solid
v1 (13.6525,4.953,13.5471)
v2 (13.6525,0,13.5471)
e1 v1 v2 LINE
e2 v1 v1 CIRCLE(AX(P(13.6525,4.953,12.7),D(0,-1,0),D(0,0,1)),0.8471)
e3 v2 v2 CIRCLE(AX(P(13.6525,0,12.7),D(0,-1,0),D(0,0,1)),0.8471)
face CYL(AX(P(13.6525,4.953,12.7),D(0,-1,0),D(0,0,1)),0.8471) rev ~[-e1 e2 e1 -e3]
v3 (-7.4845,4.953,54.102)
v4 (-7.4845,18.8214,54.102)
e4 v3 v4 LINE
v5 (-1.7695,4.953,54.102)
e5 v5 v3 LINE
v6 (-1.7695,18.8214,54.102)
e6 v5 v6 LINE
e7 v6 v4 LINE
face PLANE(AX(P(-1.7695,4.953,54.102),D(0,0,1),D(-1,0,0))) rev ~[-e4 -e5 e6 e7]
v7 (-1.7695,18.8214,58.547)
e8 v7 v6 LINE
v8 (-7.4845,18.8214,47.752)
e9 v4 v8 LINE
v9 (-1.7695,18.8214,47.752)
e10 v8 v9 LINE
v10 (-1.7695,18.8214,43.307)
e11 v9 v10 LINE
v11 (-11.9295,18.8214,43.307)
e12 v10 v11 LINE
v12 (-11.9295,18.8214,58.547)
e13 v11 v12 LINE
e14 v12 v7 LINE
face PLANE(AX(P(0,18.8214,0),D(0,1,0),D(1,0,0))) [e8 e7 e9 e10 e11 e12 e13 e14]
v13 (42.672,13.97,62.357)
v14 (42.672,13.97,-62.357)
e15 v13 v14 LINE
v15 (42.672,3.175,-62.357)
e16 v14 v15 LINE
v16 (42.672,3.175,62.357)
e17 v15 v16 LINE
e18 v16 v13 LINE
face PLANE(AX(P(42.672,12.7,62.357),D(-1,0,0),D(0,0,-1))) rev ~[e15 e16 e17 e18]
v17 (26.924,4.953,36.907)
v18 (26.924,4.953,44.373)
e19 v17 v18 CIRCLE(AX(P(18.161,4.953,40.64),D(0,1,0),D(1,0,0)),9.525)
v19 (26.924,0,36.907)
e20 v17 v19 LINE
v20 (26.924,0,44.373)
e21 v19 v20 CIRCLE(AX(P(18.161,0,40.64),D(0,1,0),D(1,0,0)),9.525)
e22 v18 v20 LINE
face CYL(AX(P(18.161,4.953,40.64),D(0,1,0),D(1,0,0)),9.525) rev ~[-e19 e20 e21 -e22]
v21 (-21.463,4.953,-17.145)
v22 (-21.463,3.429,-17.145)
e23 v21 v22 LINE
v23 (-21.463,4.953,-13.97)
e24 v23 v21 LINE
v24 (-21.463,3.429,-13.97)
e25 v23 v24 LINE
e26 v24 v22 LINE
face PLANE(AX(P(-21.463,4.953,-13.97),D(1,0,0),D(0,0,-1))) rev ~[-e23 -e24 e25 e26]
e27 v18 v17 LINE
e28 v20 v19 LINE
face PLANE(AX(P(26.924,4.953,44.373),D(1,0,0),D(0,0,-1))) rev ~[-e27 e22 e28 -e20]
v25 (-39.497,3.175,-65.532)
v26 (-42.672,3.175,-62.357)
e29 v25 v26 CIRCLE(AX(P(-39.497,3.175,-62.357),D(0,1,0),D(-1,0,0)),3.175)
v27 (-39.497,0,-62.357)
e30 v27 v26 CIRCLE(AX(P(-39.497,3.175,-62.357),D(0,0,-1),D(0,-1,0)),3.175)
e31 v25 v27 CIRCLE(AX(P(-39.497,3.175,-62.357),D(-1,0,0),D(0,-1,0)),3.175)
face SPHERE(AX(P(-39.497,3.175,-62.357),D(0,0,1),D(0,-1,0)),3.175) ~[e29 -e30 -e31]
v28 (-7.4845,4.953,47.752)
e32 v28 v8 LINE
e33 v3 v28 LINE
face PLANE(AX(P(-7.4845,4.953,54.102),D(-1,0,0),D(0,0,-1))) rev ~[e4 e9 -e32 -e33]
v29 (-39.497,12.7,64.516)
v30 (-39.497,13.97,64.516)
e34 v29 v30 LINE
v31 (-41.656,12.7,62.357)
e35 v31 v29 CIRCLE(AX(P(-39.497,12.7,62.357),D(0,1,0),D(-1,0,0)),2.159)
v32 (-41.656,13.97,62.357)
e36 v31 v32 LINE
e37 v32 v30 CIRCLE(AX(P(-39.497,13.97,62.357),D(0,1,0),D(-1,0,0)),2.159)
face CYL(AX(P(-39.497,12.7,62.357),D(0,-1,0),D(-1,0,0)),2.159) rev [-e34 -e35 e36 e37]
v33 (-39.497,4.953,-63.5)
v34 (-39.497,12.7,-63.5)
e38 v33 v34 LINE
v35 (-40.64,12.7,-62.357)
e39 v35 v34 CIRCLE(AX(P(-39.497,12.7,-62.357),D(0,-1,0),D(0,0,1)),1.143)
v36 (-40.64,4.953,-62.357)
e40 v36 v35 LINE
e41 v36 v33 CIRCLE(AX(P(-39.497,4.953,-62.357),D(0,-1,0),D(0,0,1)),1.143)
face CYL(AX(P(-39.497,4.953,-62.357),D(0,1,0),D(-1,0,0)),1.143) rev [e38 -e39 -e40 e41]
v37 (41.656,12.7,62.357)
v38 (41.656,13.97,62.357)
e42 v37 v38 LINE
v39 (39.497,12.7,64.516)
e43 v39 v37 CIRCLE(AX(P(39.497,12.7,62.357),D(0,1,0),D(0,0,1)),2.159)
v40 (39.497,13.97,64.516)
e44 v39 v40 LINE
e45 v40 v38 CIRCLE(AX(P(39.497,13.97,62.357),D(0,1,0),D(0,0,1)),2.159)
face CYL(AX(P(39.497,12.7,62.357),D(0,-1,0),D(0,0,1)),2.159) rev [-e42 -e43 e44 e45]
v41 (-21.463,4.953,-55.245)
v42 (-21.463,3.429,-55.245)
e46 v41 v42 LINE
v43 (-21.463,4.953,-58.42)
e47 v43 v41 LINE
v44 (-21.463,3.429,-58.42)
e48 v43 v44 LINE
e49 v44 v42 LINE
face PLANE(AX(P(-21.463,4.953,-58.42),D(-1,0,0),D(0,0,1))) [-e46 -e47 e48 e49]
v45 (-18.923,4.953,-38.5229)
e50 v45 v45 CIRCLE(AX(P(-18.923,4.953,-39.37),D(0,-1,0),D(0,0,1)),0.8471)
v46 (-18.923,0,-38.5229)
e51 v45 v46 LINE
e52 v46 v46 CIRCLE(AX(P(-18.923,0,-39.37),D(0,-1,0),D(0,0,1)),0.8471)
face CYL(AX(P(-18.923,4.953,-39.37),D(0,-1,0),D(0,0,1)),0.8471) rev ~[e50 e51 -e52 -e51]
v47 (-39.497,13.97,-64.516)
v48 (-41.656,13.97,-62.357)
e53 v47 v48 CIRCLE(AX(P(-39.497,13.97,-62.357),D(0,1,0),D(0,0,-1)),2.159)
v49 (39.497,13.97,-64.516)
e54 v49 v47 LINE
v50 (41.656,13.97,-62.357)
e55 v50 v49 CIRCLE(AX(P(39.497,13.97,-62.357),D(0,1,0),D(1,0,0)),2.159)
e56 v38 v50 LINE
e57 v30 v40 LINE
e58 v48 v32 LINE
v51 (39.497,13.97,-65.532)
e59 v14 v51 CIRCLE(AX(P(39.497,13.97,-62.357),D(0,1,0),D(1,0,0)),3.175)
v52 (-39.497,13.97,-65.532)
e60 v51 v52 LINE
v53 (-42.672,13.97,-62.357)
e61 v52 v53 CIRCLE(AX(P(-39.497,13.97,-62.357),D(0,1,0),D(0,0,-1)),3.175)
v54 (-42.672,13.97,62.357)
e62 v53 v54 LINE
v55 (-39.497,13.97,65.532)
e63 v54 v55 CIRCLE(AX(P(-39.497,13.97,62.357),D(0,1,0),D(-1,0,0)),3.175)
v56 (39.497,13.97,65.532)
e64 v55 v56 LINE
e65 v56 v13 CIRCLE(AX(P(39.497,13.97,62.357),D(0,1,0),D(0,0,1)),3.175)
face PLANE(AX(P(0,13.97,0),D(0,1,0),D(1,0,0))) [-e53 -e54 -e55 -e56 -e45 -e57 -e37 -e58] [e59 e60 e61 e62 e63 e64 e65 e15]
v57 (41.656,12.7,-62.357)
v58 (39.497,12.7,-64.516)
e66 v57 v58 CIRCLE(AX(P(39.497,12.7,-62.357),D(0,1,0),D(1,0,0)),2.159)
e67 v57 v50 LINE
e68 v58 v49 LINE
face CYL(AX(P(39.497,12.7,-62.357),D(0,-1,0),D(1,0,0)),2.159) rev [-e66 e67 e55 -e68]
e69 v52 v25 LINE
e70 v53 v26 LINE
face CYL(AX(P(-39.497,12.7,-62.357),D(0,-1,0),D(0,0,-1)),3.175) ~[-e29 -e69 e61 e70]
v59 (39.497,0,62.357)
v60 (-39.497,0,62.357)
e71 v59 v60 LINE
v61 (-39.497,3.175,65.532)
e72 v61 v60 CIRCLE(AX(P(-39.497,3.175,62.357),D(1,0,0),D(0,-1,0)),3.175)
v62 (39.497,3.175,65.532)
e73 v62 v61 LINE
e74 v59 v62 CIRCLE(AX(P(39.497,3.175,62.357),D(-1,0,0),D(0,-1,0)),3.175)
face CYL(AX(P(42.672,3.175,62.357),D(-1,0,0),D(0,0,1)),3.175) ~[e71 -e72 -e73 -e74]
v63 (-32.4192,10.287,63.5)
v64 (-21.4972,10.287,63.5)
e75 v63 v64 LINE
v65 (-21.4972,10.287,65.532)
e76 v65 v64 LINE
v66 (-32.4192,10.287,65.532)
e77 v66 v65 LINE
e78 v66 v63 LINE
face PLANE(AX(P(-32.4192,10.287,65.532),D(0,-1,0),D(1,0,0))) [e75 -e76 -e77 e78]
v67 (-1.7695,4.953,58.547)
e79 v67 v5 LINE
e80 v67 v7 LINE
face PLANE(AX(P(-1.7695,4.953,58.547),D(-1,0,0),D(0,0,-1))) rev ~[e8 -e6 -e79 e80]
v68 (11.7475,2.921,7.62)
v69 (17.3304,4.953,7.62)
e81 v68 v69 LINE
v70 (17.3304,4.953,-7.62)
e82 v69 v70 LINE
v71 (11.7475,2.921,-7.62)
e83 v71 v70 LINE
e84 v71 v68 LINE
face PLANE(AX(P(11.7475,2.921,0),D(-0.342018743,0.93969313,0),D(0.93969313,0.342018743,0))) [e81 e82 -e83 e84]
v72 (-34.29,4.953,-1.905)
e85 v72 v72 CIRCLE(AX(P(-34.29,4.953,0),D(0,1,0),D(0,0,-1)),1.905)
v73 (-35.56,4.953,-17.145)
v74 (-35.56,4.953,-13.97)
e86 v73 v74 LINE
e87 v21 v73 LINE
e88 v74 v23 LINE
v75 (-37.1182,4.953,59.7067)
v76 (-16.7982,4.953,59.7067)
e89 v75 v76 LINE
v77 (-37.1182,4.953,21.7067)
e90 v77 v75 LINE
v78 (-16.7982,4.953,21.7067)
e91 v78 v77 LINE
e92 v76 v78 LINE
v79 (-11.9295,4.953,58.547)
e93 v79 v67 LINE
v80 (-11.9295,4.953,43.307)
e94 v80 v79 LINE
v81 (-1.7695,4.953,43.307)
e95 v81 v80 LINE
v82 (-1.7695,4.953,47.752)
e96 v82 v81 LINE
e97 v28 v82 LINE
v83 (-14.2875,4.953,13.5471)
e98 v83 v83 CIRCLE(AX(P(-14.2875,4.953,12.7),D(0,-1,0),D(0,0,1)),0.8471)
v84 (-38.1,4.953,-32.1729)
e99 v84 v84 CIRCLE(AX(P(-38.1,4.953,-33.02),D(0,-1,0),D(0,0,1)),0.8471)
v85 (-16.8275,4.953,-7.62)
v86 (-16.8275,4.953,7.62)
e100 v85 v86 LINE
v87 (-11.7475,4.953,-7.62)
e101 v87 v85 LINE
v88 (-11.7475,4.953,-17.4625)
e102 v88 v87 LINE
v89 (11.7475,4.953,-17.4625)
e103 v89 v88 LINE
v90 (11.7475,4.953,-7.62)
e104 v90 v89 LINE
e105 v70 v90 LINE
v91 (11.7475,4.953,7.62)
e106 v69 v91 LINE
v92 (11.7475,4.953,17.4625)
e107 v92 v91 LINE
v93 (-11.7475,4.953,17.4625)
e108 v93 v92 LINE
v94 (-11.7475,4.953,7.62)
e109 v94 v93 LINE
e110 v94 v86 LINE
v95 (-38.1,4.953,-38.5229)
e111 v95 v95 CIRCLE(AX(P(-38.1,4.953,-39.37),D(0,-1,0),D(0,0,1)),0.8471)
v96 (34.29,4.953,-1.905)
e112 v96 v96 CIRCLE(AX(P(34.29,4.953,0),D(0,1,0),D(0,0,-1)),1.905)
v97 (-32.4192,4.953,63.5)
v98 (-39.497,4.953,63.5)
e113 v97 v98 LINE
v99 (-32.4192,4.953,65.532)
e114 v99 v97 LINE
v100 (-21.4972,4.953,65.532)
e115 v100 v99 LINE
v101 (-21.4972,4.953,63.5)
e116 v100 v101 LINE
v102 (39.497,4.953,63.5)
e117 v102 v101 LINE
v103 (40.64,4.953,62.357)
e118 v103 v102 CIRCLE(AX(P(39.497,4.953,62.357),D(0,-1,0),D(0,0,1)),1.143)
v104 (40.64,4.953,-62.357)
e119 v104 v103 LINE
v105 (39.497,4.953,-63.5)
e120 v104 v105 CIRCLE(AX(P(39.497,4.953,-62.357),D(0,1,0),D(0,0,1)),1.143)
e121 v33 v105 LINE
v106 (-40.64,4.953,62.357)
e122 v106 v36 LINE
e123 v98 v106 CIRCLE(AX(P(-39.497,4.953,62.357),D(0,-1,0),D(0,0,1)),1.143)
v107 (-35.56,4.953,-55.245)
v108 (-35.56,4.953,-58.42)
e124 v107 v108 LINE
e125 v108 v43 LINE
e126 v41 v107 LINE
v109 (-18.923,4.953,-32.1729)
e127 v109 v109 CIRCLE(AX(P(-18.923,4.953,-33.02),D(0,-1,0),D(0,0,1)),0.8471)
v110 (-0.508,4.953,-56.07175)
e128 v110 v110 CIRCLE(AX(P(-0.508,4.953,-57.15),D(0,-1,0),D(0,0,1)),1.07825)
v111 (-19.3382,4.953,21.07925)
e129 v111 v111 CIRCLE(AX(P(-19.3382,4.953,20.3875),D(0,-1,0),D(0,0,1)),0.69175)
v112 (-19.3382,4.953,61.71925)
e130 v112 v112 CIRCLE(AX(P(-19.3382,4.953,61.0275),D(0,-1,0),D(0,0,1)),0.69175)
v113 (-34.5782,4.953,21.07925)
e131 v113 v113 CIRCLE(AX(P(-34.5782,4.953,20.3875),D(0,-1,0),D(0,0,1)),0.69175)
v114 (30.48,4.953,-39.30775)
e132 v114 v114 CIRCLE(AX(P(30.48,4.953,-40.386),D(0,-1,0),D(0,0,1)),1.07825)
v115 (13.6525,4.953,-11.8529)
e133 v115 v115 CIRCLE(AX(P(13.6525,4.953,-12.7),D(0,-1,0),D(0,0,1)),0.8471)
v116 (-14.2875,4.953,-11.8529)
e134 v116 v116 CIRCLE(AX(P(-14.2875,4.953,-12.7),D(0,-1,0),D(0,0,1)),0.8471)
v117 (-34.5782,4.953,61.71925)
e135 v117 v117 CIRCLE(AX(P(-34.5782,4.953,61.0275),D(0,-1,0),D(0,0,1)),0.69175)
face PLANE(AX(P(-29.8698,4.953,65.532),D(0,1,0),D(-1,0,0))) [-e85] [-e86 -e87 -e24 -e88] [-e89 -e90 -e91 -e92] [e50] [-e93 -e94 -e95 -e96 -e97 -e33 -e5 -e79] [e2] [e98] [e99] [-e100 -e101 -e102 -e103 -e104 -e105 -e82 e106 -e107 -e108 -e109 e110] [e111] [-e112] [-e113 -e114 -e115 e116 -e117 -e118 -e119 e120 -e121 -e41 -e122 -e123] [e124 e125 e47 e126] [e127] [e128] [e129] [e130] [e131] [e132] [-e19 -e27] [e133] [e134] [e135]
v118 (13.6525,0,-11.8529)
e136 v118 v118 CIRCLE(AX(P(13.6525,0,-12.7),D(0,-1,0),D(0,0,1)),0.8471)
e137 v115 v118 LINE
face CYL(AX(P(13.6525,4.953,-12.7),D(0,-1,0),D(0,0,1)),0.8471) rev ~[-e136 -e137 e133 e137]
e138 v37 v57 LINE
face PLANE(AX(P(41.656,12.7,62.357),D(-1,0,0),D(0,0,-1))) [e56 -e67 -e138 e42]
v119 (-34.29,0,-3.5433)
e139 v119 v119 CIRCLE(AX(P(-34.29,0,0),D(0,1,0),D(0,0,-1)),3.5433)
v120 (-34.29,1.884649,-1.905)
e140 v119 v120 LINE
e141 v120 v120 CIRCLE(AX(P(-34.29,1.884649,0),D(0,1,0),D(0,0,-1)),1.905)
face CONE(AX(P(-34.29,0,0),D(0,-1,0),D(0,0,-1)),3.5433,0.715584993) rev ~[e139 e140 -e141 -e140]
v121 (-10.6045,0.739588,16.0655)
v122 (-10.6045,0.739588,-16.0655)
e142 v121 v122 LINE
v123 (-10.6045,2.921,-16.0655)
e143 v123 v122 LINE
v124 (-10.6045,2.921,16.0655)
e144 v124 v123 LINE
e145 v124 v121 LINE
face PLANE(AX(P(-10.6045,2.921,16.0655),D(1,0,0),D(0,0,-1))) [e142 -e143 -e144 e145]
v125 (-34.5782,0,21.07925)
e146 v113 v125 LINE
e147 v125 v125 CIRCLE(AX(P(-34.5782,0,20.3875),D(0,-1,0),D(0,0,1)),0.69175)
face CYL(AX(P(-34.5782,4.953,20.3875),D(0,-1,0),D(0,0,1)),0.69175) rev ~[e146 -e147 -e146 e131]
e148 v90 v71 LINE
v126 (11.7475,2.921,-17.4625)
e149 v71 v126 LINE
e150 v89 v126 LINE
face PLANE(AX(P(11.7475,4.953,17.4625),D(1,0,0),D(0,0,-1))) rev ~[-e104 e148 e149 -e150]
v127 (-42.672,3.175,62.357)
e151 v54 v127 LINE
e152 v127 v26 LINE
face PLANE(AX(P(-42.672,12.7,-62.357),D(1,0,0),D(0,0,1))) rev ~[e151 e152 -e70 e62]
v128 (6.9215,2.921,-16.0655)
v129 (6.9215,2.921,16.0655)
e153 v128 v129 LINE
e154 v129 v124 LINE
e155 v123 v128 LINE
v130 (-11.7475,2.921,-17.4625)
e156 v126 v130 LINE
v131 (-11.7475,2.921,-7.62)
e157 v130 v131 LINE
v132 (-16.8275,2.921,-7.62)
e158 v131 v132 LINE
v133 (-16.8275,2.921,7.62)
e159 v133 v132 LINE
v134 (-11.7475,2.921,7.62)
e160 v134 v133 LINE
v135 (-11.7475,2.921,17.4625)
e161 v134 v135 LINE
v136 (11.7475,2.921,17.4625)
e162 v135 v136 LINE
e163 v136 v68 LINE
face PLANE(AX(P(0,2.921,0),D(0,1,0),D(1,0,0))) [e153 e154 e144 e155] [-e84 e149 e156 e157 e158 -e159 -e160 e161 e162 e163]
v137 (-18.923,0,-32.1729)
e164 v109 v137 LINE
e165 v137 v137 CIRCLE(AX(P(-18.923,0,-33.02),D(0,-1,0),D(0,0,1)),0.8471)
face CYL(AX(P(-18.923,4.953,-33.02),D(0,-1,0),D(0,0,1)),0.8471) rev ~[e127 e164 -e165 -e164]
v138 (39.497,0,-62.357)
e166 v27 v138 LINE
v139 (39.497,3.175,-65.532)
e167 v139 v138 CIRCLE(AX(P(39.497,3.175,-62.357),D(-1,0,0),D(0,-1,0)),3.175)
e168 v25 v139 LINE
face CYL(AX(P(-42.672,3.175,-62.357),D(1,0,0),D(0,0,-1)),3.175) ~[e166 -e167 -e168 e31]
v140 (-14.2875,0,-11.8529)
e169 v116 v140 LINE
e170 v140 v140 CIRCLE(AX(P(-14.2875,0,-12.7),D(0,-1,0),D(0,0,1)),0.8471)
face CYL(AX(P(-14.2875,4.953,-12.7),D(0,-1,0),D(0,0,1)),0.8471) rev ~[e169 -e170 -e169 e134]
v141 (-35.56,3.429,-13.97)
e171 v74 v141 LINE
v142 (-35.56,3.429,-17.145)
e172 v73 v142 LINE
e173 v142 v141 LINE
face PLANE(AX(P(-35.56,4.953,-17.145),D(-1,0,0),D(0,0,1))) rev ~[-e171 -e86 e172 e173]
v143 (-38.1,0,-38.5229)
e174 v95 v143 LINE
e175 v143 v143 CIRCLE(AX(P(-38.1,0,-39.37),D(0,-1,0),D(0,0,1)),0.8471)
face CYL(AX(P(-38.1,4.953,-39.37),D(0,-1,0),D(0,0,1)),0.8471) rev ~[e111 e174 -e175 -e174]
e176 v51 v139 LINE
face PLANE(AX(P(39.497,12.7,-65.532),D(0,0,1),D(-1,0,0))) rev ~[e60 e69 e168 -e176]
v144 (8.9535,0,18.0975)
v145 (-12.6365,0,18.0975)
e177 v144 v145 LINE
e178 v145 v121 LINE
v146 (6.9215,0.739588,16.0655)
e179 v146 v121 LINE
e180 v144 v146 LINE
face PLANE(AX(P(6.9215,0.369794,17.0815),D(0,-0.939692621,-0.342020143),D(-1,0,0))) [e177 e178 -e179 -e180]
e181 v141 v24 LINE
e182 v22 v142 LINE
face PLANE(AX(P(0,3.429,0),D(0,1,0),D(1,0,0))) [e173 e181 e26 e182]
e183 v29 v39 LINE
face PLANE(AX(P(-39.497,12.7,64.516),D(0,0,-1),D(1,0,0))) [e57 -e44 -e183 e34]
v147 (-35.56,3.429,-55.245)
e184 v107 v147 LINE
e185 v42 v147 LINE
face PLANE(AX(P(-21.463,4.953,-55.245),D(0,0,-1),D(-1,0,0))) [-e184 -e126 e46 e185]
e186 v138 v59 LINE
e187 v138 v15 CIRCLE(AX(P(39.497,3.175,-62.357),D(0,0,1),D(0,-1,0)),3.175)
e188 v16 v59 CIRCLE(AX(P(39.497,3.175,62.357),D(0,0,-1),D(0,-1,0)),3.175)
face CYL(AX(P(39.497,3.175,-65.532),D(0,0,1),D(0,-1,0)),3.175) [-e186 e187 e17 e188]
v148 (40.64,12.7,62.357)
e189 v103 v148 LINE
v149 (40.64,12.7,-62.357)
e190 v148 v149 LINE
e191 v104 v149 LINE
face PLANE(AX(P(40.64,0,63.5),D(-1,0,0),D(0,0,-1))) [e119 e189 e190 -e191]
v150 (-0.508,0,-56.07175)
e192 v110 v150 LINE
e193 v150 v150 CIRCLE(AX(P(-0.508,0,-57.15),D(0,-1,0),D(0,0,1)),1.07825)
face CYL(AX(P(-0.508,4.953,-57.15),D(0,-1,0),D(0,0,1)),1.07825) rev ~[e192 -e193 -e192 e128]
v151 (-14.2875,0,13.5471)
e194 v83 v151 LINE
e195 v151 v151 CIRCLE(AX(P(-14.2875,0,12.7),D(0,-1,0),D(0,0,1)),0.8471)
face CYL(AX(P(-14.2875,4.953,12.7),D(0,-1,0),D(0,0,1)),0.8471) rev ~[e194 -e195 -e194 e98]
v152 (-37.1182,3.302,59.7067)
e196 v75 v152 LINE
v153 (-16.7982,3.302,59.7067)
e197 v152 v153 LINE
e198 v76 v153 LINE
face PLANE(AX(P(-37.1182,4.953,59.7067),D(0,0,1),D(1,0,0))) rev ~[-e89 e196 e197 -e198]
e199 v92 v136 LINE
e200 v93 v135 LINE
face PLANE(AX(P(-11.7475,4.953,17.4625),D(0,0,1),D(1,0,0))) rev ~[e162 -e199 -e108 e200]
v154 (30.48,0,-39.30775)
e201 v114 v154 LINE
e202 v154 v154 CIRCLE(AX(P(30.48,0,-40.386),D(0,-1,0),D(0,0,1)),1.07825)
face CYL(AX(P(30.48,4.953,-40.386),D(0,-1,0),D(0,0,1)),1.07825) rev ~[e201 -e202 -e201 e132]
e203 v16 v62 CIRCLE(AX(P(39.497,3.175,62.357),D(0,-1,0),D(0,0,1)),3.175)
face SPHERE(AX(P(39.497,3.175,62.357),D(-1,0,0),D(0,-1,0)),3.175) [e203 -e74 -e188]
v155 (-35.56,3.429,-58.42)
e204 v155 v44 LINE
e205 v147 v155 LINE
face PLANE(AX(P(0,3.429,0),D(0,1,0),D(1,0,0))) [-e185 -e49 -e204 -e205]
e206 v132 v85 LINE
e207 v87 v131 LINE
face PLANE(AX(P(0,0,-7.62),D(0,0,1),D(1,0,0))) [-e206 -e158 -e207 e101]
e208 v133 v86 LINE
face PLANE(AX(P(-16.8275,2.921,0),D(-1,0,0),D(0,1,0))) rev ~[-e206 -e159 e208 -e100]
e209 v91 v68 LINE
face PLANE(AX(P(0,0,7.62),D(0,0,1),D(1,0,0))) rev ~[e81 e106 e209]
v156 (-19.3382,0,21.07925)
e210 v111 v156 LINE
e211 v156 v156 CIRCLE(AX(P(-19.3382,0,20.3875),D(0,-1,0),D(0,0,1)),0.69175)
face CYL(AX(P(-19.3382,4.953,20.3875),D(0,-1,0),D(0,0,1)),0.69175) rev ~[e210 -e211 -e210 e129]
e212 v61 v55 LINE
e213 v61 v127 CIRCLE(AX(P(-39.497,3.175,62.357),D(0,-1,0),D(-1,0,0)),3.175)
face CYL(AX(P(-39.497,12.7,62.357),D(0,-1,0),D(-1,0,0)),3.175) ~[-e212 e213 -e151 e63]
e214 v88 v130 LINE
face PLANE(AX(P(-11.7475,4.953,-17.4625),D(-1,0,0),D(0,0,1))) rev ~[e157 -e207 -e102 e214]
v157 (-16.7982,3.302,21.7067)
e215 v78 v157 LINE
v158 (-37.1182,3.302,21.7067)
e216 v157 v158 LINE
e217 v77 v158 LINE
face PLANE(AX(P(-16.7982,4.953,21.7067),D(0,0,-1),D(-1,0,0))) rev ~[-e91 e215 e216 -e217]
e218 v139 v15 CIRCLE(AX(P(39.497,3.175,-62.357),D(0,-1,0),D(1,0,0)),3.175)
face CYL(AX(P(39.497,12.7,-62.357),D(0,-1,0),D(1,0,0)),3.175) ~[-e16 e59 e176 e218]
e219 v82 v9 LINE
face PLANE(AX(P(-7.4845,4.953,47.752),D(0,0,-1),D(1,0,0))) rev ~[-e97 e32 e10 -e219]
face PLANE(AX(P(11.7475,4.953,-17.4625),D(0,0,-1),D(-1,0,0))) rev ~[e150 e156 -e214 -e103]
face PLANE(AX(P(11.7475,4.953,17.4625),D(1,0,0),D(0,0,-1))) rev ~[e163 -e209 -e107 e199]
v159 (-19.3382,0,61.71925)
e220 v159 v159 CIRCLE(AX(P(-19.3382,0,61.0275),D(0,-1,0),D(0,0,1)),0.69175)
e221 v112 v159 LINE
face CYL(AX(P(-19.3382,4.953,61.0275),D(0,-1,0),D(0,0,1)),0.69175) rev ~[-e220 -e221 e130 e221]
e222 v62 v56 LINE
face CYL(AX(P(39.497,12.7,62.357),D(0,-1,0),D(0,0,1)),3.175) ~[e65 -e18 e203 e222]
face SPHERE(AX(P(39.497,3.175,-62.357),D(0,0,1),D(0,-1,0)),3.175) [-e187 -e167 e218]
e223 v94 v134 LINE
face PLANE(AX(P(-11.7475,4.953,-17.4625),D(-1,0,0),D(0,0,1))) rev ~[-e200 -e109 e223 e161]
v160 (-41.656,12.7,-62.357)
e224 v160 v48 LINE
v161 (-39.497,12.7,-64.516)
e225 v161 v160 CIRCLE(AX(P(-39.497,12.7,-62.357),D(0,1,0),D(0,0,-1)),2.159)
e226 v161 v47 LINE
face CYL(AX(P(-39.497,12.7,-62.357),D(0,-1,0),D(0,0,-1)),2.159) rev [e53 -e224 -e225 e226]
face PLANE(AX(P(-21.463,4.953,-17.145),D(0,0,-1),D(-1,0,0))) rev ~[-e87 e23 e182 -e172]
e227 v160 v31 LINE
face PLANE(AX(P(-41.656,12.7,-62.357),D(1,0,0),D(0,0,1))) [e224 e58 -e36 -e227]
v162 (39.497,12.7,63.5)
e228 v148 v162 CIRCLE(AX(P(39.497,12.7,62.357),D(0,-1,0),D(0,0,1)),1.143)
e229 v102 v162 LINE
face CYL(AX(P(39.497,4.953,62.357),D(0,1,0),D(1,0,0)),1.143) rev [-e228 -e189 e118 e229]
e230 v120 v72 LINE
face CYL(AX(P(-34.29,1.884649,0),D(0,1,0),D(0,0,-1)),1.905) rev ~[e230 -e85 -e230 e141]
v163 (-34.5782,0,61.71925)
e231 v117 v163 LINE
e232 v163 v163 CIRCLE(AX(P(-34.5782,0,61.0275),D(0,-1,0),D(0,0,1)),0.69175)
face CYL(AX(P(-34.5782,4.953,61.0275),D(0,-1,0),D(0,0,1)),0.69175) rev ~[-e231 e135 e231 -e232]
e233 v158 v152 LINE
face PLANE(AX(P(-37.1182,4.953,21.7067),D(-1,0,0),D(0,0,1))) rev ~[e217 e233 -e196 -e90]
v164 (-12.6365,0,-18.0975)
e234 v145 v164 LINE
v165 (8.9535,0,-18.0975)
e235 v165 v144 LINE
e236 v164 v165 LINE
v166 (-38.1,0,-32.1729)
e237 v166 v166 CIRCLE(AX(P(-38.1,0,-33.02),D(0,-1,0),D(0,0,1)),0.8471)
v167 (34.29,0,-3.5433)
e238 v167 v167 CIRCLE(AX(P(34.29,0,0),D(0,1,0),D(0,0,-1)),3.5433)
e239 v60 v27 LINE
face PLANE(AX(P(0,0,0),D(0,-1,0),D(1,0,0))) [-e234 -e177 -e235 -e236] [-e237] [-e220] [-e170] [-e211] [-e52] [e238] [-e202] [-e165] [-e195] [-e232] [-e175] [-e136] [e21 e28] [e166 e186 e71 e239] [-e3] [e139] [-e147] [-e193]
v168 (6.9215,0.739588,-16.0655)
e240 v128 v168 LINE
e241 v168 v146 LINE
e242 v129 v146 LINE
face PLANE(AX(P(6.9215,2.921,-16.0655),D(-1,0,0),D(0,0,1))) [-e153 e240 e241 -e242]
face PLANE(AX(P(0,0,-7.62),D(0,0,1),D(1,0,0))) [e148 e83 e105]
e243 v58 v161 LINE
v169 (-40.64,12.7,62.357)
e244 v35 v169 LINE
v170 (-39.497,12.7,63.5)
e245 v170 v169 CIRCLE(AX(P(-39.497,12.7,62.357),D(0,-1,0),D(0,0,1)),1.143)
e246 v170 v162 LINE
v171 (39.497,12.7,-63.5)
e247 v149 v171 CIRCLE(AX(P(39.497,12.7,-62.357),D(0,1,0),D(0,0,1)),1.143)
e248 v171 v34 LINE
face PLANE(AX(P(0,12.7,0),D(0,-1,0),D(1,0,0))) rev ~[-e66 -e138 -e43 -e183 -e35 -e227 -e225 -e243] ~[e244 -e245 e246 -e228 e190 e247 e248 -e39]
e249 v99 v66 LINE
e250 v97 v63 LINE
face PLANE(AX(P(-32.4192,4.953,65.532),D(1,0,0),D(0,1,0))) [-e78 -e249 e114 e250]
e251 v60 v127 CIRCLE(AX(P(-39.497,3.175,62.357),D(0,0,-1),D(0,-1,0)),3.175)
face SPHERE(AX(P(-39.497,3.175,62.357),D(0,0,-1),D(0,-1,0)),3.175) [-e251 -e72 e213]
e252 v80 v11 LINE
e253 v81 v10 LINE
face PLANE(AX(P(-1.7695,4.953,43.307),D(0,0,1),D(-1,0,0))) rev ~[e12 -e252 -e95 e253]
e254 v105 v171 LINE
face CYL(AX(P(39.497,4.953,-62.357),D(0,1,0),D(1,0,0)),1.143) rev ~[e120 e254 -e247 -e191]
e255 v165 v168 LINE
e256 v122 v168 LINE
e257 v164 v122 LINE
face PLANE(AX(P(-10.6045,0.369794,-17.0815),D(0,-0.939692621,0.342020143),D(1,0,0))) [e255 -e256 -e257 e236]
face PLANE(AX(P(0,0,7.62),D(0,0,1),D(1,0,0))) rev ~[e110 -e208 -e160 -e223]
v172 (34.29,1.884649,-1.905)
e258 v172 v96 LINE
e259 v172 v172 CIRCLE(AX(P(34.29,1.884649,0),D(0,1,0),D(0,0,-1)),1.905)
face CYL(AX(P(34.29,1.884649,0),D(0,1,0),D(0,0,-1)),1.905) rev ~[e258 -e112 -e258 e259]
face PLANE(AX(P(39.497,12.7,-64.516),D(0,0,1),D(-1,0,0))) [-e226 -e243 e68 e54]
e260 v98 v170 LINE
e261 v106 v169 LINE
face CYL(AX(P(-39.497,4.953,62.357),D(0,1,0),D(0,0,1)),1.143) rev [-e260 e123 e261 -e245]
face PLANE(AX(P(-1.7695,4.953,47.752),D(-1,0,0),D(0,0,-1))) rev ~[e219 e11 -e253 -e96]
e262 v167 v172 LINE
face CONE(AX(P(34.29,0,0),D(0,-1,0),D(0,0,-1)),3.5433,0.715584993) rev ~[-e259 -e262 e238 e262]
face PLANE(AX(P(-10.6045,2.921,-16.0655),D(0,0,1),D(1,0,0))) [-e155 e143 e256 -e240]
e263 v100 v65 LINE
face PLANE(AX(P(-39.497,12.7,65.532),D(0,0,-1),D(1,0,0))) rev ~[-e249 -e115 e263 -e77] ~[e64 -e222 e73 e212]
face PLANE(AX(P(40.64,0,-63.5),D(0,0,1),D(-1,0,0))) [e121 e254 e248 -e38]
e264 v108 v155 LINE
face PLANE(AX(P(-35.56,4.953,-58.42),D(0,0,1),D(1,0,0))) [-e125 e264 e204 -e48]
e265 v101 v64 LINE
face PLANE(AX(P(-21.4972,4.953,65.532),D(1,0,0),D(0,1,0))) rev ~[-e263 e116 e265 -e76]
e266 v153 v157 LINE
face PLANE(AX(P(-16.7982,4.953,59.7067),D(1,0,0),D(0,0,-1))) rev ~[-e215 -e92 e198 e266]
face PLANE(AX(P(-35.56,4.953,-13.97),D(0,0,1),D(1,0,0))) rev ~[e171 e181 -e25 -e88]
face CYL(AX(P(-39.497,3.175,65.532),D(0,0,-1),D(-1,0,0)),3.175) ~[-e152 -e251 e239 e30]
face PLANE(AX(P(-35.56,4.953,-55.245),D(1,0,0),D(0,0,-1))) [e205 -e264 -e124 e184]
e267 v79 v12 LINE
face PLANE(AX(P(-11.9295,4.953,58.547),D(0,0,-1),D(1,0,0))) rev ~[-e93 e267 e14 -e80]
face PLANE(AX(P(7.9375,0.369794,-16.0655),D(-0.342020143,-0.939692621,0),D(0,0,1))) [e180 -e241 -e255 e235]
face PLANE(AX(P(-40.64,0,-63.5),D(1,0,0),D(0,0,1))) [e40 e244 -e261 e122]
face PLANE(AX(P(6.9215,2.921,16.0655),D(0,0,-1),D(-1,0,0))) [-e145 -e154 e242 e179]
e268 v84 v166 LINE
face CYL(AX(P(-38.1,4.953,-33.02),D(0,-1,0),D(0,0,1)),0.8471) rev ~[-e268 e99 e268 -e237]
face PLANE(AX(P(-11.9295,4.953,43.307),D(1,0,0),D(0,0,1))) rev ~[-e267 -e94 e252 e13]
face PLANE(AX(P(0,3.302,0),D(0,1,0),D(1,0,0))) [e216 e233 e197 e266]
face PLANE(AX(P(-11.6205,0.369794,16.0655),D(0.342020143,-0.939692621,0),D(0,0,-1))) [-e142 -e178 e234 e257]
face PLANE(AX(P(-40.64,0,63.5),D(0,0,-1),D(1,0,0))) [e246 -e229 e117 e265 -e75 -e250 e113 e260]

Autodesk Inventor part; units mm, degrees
ref_plane "YZ Plane" through (0, 0, 0) normal (1, 0, 0) x (0, 1, 0)
ref_plane "XZ Plane" through (0, 0, 0) normal (0, 1, 0) x (-1, 0, 0)
sketch "Sketch1" plane through (0, 0, 0) normal (0, 1, 0) x (-1, 0, 0)
  line L0 (40.64, -63.5) -> (-40.64, -63.5)
  line L1 (-40.64, -63.5) -> (-40.64, 63.5)
  line L2 (-40.64, 63.5) -> (40.64, 63.5)
  line L3 (40.64, 63.5) -> (40.64, -63.5)
  line L4 (40.64, -63.5) -> (-40.64, 63.5) construction
  line L5 (-40.64, -63.5) -> (40.64, 63.5) construction
  point P0 (0, 0)
  dimension "d0" = 127
  dimension "d1" = 81.28
extrude "Extrusion1" add sketch "Sketch1" along normal blind 4.953
sketch "Sketch2" plane through (0, 4.953, 0) normal (0, 1, 0) x (1, 0, 0)
  line L0 (11.7475, 17.4625) -> (-11.7475, 17.4625)
  line L1 (-11.7475, 17.4625) -> (-11.7475, -17.4625)
  line L2 (-11.7475, -17.4625) -> (11.7475, -17.4625)
  line L3 (11.7475, -17.4625) -> (11.7475, 17.4625)
  line L4 (11.7475, 17.4625) -> (-11.7475, -17.4625) construction
  line L5 (-11.7475, 17.4625) -> (11.7475, -17.4625) construction
  point P0 (0, 0)
  dimension "d4" = 23.495
  dimension "d5" = 34.925
extrude "Extrusion2" cut sketch "Sketch2" against normal blind 2.032
sketch "Sketch4" plane through (0, 0, 0) normal (0, 0, 1) x (1, 0, 0)
  line L0 (11.7475, 2.921) -> (17.3304, 4.953)
  line L1 (40.64, 4.953) -> (-40.64, 4.953) projected
  line L2 (11.7475, 4.953) -> (11.7475, 2.921) projected
  line L3 (11.7475, 2.921) -> (11.7475, 4.953)
  line L4 (11.7475, 4.953) -> (17.3304, 4.953)
  point P0 (0, 0)
  dimension "d8" = 70
extrude "Extrusion3" cut sketch "Sketch4" along normal mid plane 15.24
sketch "Sketch5" plane through (0, 0, 0) normal (0, 0, 1) x (1, 0, 0)
  line L0 (-11.7475, 2.921) -> (11.7475, 2.921) projected
  line L1 (40.64, 4.953) -> (-40.64, 4.953) projected
  line L2 (-11.7475, 2.921) -> (-16.8275, 2.921)
  line L3 (-16.8275, 2.921) -> (-16.8275, 4.953)
  line L4 (-16.8275, 4.953) -> (-11.7475, 4.953)
  line L5 (-11.7475, 4.953) -> (-11.7475, 2.921)
  point P0 (0, 0)
  point P1 (-11.7475, 3.937)
  point P2 (-16.8275, 3.937)
  point P3 (-11.7475, 4.953)
  dimension "d11" = 5.08
extrude "Extrusion4" cut sketch "Sketch5" along normal mid plane 15.24
sketch "Sketch6" plane through (0, 2.921, 0) normal (0, 1, 0) x (1, 0, 0)
  line L0 (-11.7475, -17.4625) -> (-11.7475, -7.62) projected
  line L1 (11.7475, -17.4625) -> (-11.7475, -17.4625) projected
  line L2 (11.7475, -7.62) -> (11.7475, -17.4625) projected
  line L3 (11.7475, 7.62) -> (11.7475, -7.62) projected
  line L4 (11.7475, 17.4625) -> (11.7475, 7.62) projected
  line L5 (-11.7475, 17.4625) -> (11.7475, 17.4625) projected
  line L6 (-11.7475, 7.62) -> (-11.7475, 17.4625) projected
  line L7 (-11.7475, 7.62) -> (-16.8275, 7.62) projected
  line L8 (-16.8275, 7.62) -> (-16.8275, -7.62) projected
  line L9 (-16.8275, -7.62) -> (-11.7475, -7.62) projected
  line L10 (-10.6045, 16.0655) -> (6.9215, 16.0655)
  line L11 (6.9215, 16.0655) -> (6.9215, -16.0655)
  line L12 (6.9215, -16.0655) -> (-10.6045, -16.0655)
  line L13 (-10.6045, -16.0655) -> (-10.6045, 16.0655)
  line L14 (11.7475, 7.62) -> (11.7475, -7.62) projected
  line L15 (11.7475, 0) -> (-16.8275, 0) construction
  line L16 (-16.8275, -7.62) -> (-16.8275, 7.62) projected
  line L17 (6.9215, 0) -> (-10.6045, 0) construction
  point P0 (0, 0)
  dimension "d14" = 17.526
  dimension "d15" = 32.131
  dimension "d16" = 4.826
extrude "Extrusion5" cut sketch "Sketch6" against normal up to surface (2.921 mm away) contours L10 L11 L12 L13
sketch "Sketch7" plane through (0, 4.953, 0) normal (0, 1, 0) x (1, 0, 0)
  line L0 (-14.2875, 12.7) -> (13.6525, 12.7) construction
  line L1 (13.6525, 12.7) -> (13.6525, -12.7) construction
  line L2 (13.6525, -12.7) -> (-14.2875, -12.7) construction
  line L3 (-14.2875, -12.7) -> (-14.2875, 12.7) construction
  line L4 (-10.6045, -16.0655) -> (-10.6045, 16.0655) projected
  line L5 (-14.2875, 0) -> (13.6525, 0) construction
  line L6 (-10.6045, 0) -> (6.9215, 0) construction
  line L7 (6.9215, 16.0655) -> (6.9215, -16.0655) projected
  line L8 (-11.7475, 7.62) -> (-11.7475, 17.4625) projected
  point P0 (0, 0)
  dimension "d19" = 25.4
  dimension "d20" = 27.94
  dimension "d21" = 2.54
hole "Hole1" at (-14.2875, 4.953, -12.7) at (13.6525, 4.953, -12.7) at (13.6525, 4.953, 12.7) at (-14.2875, 4.953, 12.7) direction (0, -1, 0) diameter 1.6942 depth 4.953 thread size "2-56 UNC" class "2B" standard "ANSI Unified Screw Threads"
sketch "Sketch8" plane through (0, 4.953, 0) normal (0, 1, 0) x (1, 0, 0)
  line L0 (-37.1182, -59.7067) -> (-16.7982, -59.7067)
  line L1 (-16.7982, -59.7067) -> (-16.7982, -21.7067)
  line L2 (-16.7982, -21.7067) -> (-37.1182, -21.7067)
  line L3 (-37.1182, -21.7067) -> (-37.1182, -59.7067)
  point P0 (0, 0)
  dimension "d29" = 20.32
  dimension "d30" = 38
extrude "Extrusion6" cut sketch "Sketch8" against normal blind 1.651
sketch "Sketch11" plane through (0, 4.953, 0) normal (0, 1, 0) x (1, 0, 0)
  line L0 (-34.5782, -61.0275) -> (-19.3382, -61.0275) construction
  line L1 (-16.7982, -59.7067) -> (-37.1182, -59.7067) projected
  line L2 (-19.3382, -61.0275) -> (-19.3382, -20.3875) construction
  line L3 (-19.3382, -20.3875) -> (-34.5782, -20.3875) construction
  line L4 (-34.5782, -20.3875) -> (-34.5782, -61.0275) construction
  line L5 (-37.1182, -21.7067) -> (-16.7982, -21.7067) projected
  line L6 (-37.1182, -59.7067) -> (-37.1182, -21.7067) projected
  line L7 (-16.7982, -21.7067) -> (-16.7982, -59.7067) projected
  line L8 (-16.7982, -59.7067) -> (-37.1182, -59.7067) projected
  line L9 (-16.7982, -21.7067) -> (-16.7982, -59.7067) projected
  line L10 (-37.1182, -21.7067) -> (-16.7982, -21.7067) projected
  line L11 (-37.1182, -59.7067) -> (-37.1182, -21.7067) projected
  line L12 (-16.7982, -59.7067) -> (-37.1182, -59.7067) projected
  line L13 (-34.5782, -40.7075) -> (-37.1182, -40.7067)
  line L14 (-37.1182, -59.7067) -> (-37.1182, -21.7067) projected
  line L15 (-19.3382, -40.7075) -> (-16.7982, -40.7067)
  line L16 (-16.7982, -21.7067) -> (-16.7982, -59.7067) projected
  point P0 (0, 0)
  dimension "d38" = 15.24
  dimension "d39" = 40.64
  dimension "d40" = 1.3208
hole "Hole2" at (-34.5782, 4.953, 20.3875) at (-19.3382, 4.953, 20.3875) at (-19.3382, 4.953, 61.0275) at (-34.5782, 4.953, 61.0275) direction (0, -1, 0) diameter 1.3835 depth 4.953 thread size "M1.6x0.2" class "6H" standard "ANSI Metric M Profile"
sketch "Sketch12" plane through (0, 4.953, 0) normal (0, 1, 0) x (1, 0, 0)
  line L0 (-7.747, 38.227) -> (37.719, 38.227) construction
  line L1 (37.719, 38.227) -> (37.719, 59.309) construction
  line L2 (37.719, 59.309) -> (-7.747, 59.309) construction
  line L3 (-7.747, 59.309) -> (-7.747, 38.227) construction
  line L4 (-0.508, 57.15) -> (30.48, 57.15) construction
  line L5 (30.48, 57.15) -> (30.48, 40.386) construction
  line L6 (30.48, 40.386) -> (-0.508, 40.386) construction
  line L7 (-0.508, 40.386) -> (-0.508, 57.15) construction
  line L8 (-40.64, -63.5) -> (40.64, -63.5) projected
  line L9 (40.64, -63.5) -> (40.64, 63.5) projected
  line L10 (-0.508, 48.768) -> (-7.747, 48.768) construction
  line L11 (30.48, 48.768) -> (37.719, 48.768) construction
  line L12 (40.64, 63.5) -> (-40.64, 63.5) projected
  point P0 (0, 0)
  dimension "d49" = 21.082
  dimension "d63" = 16.764
  dimension "d64" = 30.988
  dimension "d114" = 6.35
  dimension "d115" = 10.16
hole "Hole3" at (-0.508, 4.953, -57.15) at (30.48, 4.953, -40.386) direction (0, -1, 0) diameter 2.1565 depth 4.953 thread size "4-40 UNC" class "2B" standard "ANSI Unified Screw Threads"
sketch "Sketch13" plane through (0, 4.953, 0) normal (0, 1, 0) x (1, 0, 0)
  circle A0 centre (18.161, -40.64) radius 9.525
  line L0 (40.64, -63.5) -> (40.64, 63.5) projected
  line L1 (40.64, 63.5) -> (-40.64, 63.5) projected
  line L2 (26.924, -44.373) -> (26.924, -36.907)
  line L3 (8.636, -40.64) -> (26.924, -40.64) construction
  line L4 (-40.64, -63.5) -> (40.64, -63.5) projected
  point P0 (0, 0)
  point P1 (17.78, -40.64)
  dimension "d65" = 19.05
  dimension "d98" = 18.288
  dimension "d116" = 22.86
  dimension "d117" = 22.86
extrude "Extrusion7" cut sketch "Sketch13" against normal up to surface (4.953 mm away) contours L2 A0 picked at (20.828, -40.64)
sketch "Sketch14" plane through (0, 4.953, 0) normal (0, 1, 0) x (1, 0, 0)
  line L0 (-35.56, 58.42) -> (-21.463, 58.42) construction
  line L1 (-21.463, 58.42) -> (-21.463, 13.97) construction
  line L2 (-21.463, 13.97) -> (-35.56, 13.97) construction
  line L3 (-35.56, 13.97) -> (-35.56, 58.42) construction
  line L4 (-35.56, 13.97) -> (-21.463, 13.97)
  line L5 (-21.463, 13.97) -> (-21.463, 17.145)
  line L6 (-21.463, 17.145) -> (-35.56, 17.145)
  line L7 (-35.56, 17.145) -> (-35.56, 13.97)
  line L8 (-35.56, 58.42) -> (-21.463, 58.42)
  line L9 (-21.463, 58.42) -> (-21.463, 55.245)
  line L10 (-21.463, 55.245) -> (-35.56, 55.245)
  line L11 (-35.56, 55.245) -> (-35.56, 58.42)
  line L12 (-40.64, 63.5) -> (-40.64, -63.5) projected
  line L13 (40.64, 63.5) -> (-40.64, 63.5) projected
  point P0 (0, 0)
  point P1 (-35.56, 15.5575)
  point P2 (-28.5115, 58.42)
  dimension "d72" = 44.45
  dimension "d73" = 14.097
  dimension "d74" = 3.175
  dimension "d75" = 3.175
  dimension "d76" = 5.08
  dimension "d77" = 5.08
extrude "Extrusion8" cut sketch "Sketch14" against normal blind 1.524
sketch "Sketch15" plane through (0, 4.953, 0) normal (0, 1, 0) x (1, 0, 0)
  line L0 (-35.56, 13.97) -> (-35.56, 17.145) projected
  line L1 (-35.56, 58.42) -> (-21.463, 58.42) construction
  line L2 (-35.56, 13.97) -> (-21.463, 13.97)
  line L3 (-21.463, 13.97) -> (-21.463, 58.42) construction
  line L4 (-21.463, 58.42) -> (-35.56, 58.42)
  line L5 (-35.56, 58.42) -> (-35.56, 13.97) construction
  line L6 (-38.1, 33.02) -> (-18.923, 33.02) construction
  line L7 (-18.923, 39.37) -> (-38.1, 39.37) construction
  line L8 (-21.463, 55.245) -> (-35.56, 55.245) projected
  line L9 (-35.56, 17.145) -> (-21.463, 17.145) projected
  line L10 (-28.5115, 17.145) -> (-28.5115, 33.02) construction
  line L11 (-28.5115, 39.37) -> (-28.5115, 55.245) construction
  point P0 (0, 0)
  point P1 (-38.1, 39.37)
  dimension "d85" = 6.35
  dimension "d86" = 6.35
  dimension "d89" = 19.05
  dimension "d90" = 19.05
  dimension "d118" = 2.54
  dimension "d119" = 2.54
  dimension "d120" = 2.54
hole "Hole4" at (-38.1, 4.953, -33.02) at (-38.1, 4.953, -39.37) at (-18.923, 4.953, -39.37) at (-18.923, 4.953, -33.02) direction (0, -1, 0) diameter 1.6942 depth 4.953 thread size "2-56 UNC" class "3B" standard "ANSI Unified Screw Threads"
sketch "Sketch16" plane through (0, 0, 0) normal (0, -1, 0) x (1, 0, 0)
  line L0 (-42.672, -65.532) -> (42.672, -65.532)
  line L1 (42.672, -65.532) -> (42.672, 65.532)
  line L2 (42.672, 65.532) -> (-42.672, 65.532)
  line L3 (-42.672, 65.532) -> (-42.672, -65.532)
  line L4 (40.64, -63.5) -> (-40.64, -63.5) projected
  line L5 (-40.64, 63.5) -> (40.64, 63.5) projected
  line L6 (-40.64, -63.5) -> (-40.64, 63.5) projected
  line L7 (40.64, 63.5) -> (40.64, -63.5) projected
  point P0 (0, 0)
  dimension "d99" = 2.032
  dimension "d100" = 2.032
  dimension "d101" = 2.032
  dimension "d102" = 2.032
extrude "Extrusion9" add sketch "Sketch16" against normal blind 12.7
sketch "Sketch17" plane through (-42.672, 0, 65.532) normal (0, 0, 1) x (1, 0, 0)
  line L0 (25.8738, 4.953) -> (5.5538, 4.953) construction
  line L1 (21.209, 4.953) -> (7.112, 4.953) projected
  line L2 (83.312, 12.7) -> (2.032, 12.7) projected
  line L3 (12.8022, 4.953) -> (10.2528, 4.953)
  line L4 (10.2528, 4.953) -> (10.2528, 10.287)
  line L5 (12.8022, 4.953) -> (21.1748, 4.953)
  line L6 (21.1748, 4.953) -> (21.1748, 10.287)
  line L7 (21.209, 4.953) -> (7.112, 4.953) projected
  line L8 (10.2528, 10.287) -> (21.1748, 10.287)
  line L9 (5.5538, 4.953) -> (10.2528, 10.287) construction
  line L10 (5.5538, 4.953) -> (25.8738, 4.953) projected
  line L11 (21.1748, 10.287) -> (25.8738, 4.953) construction
  line L12 (25.8738, 3.302) -> (5.5538, 3.302) projected
  line L13 (85.344, 0) -> (0, 0) projected
  line L14 (85.344, 0) -> (85.344, 12.7) projected
  line L15 (0, 12.7) -> (85.344, 12.7) projected
  line L16 (0, 0) -> (0, 12.7) projected
  line L17 (21.1748, 10.287) -> (21.1748, 4.953)
  point P0 (42.672, 0)
  point P1 (11.5275, 4.953)
  point P2 (10.2528, 7.62)
  point P3 (10.2528, 4.953)
  point P4 (21.1748, 4.953)
  dimension "d109" = 10.922
  dimension "d110" = 5.334
extrude "Extrusion10" cut sketch "Sketch17" against normal up to surface (2.032 mm away) contours L1 L4 L8 L6
fillet "Fillet1" radius 3.175 8 edges at (-42.672, 0, 0) (0, 0, 65.532) (42.672, 0, 0) (0, 0, -65.532) (-42.672, 6.35, -65.532) (42.672, 6.35, -65.532) (-42.672, 6.35, 65.532) (42.672, 6.35, 65.532)
fillet "Fillet2" radius 1.143 4 edges at (-40.64, 8.8265, 63.5) (-40.64, 8.8265, -63.5) (40.64, 8.8265, 63.5) (40.64, 8.8265, -63.5)
sketch "Sketch18" plane through (0, 12.7, 0) normal (0, 1, 0) x (1, 0, 0)
  line L0 (-39.497, -65.532) -> (39.497, -65.532) projected
  arc A0 (-42.672, -62.357) -> (-39.497, -65.532) centre (-39.497, -62.357) ccw projected
  line L1 (-42.672, 62.357) -> (-42.672, -62.357) projected
  arc A1 (-39.497, 65.532) -> (-42.672, 62.357) centre (-39.497, 62.357) ccw projected
  line L2 (39.497, 65.532) -> (-39.497, 65.532) projected
  arc A2 (42.672, 62.357) -> (39.497, 65.532) centre (39.497, 62.357) ccw projected
  line L3 (42.672, -62.357) -> (42.672, 62.357) projected
  arc A3 (39.497, -65.532) -> (42.672, -62.357) centre (39.497, -62.357) ccw projected
  arc A4 (-41.656, -62.357) -> (-39.497, -64.516) centre (-39.497, -62.357) ccw
  line L4 (-39.497, -64.516) -> (39.497, -64.516)
  arc A5 (39.497, -64.516) -> (41.656, -62.357) centre (39.497, -62.357) ccw
  line L5 (41.656, -62.357) -> (41.656, 62.357)
  arc A6 (41.656, 62.357) -> (39.497, 64.516) centre (39.497, 62.357) ccw
  line L6 (39.497, 64.516) -> (-39.497, 64.516)
  arc A7 (-39.497, 64.516) -> (-41.656, 62.357) centre (-39.497, 62.357) ccw
  line L7 (-41.656, 62.357) -> (-41.656, -62.357)
  point P0 (0, 0)
  dimension "d123" = 1.016
extrude "Extrusion11" add sketch "Sketch18" along normal blind 1.27
sketch "Sketch20" plane through (0, 4.953, 0) normal (0, 1, 0) x (1, 0, 0)
  arc A0 (-1.7695, -59.817) -> (-1.7695, -62.357) centre (-1.7695, -61.087) ccw projected
  arc A1 (-1.7695, -59.817) -> (-0.4995, -58.547) centre (-1.7695, -58.547) ccw projected
  line L0 (-0.4995, -54.102) -> (-0.4995, -58.547) projected
  arc A2 (-0.4995, -54.102) -> (-1.7695, -52.832) centre (-1.7695, -54.102) ccw projected
  line L1 (-4.9445, -52.832) -> (-1.7695, -52.832) projected
  arc A3 (-6.2145, -51.562) -> (-4.9445, -52.832) centre (-4.9445, -51.562) ccw projected
  line L2 (-6.2145, -50.292) -> (-6.2145, -51.562) projected
  arc A4 (-4.9445, -49.022) -> (-6.2145, -50.292) centre (-4.9445, -50.292) ccw projected
  line L3 (-1.7695, -49.022) -> (-4.9445, -49.022) projected
  arc A5 (-1.7695, -49.022) -> (-0.4995, -47.752) centre (-1.7695, -47.752) ccw projected
  line L4 (-0.4995, -43.307) -> (-0.4995, -47.752) projected
  arc A6 (-0.4995, -43.307) -> (-1.7695, -42.037) centre (-1.7695, -43.307) ccw projected
  arc A7 (-1.7695, -39.497) -> (-1.7695, -42.037) centre (-1.7695, -40.767) ccw projected
  line L5 (0.7705, -39.497) -> (-1.7695, -39.497) projected
  arc A8 (2.0405, -40.767) -> (0.7705, -39.497) centre (0.7705, -40.767) ccw projected
  line L6 (2.0405, -61.087) -> (2.0405, -40.767) projected
  arc A9 (0.7705, -62.357) -> (2.0405, -61.087) centre (0.7705, -61.087) ccw projected
  line L7 (-1.7695, -62.357) -> (0.7705, -62.357) projected
  arc A10 (-11.2945, -62.357) -> (-11.2945, -59.817) centre (-11.2945, -61.087) ccw projected
  line L8 (-14.4695, -62.357) -> (-11.2945, -62.357) projected
  arc A11 (-15.7395, -61.087) -> (-14.4695, -62.357) centre (-14.4695, -61.087) ccw projected
  line L9 (-15.7395, -40.767) -> (-15.7395, -61.087) projected
  arc A12 (-14.4695, -39.497) -> (-15.7395, -40.767) centre (-14.4695, -40.767) ccw projected
  line L10 (-11.2945, -39.497) -> (-14.4695, -39.497) projected
  arc A13 (-11.2945, -42.037) -> (-11.2945, -39.497) centre (-11.2945, -40.767) ccw projected
  line L11 (-11.9295, -42.037) -> (-11.2945, -42.037) projected
  arc A14 (-11.9295, -42.037) -> (-13.1995, -43.307) centre (-11.9295, -43.307) ccw projected
  line L12 (-13.1995, -58.547) -> (-13.1995, -43.307) projected
  arc A15 (-13.1995, -58.547) -> (-11.9295, -59.817) centre (-11.9295, -58.547) ccw projected
  line L13 (-11.2945, -59.817) -> (-11.9295, -59.817) projected
  line L14 (-11.9295, -58.547) -> (-1.7695, -58.547)
  line L15 (-1.7695, -58.547) -> (-1.7695, -54.102)
  line L16 (-1.7695, -54.102) -> (-7.4845, -54.102)
  line L17 (-7.4845, -54.102) -> (-7.4845, -47.752)
  line L18 (-7.4845, -47.752) -> (-1.7695, -47.752)
  line L19 (-1.7695, -47.752) -> (-1.7695, -43.307)
  line L20 (-1.7695, -43.307) -> (-11.9295, -43.307)
  line L21 (-11.9295, -43.307) -> (-11.9295, -58.547)
  point P0 (0, 0)
  dimension "d133" = 4.445
  dimension "d134" = 4.445
ref_plane "Work Plane1" through (-15.6845, 12.7, 39.497) normal (0, -1, 0) x (1, 0, 0)
extrude "Extrusion12" add sketch "Sketch20" along normal blind 13.8684 contours L21 L20 L19 L18 L17 L16 L15 L14
sketch "Sketch19" plane through (0, 0, 0) normal (0, -1, 0) x (1, 0, 0)
  circle A0 centre (-34.29, 0) radius 1.905 projected
  circle A1 centre (34.29, 0) radius 1.905 projected
  point P0 (0, 0)
hole "Hole5" at (34.29, 0, 0) at (-34.29, 0, 0) direction (0, 1, 0) diameter 3.81 depth 4.953 countersink diameter 7.0866 countersink angle 82 clearance for "Flat Head Machine Screw (82)" size "#6" standard "Ansi Unified Screw Threads"
chamfer "Chamfer1" distance 2.032 angle 20 4 edges at (6.9215, 0, 0) (-1.8415, 0, 16.0655) (-1.8415, 0, -16.0655) (-10.6045, 0, 0) measured on face at (-9.9031, 0, 40.685)
equation "\"d134\" = d133"
properties part number "Controller_Front"
